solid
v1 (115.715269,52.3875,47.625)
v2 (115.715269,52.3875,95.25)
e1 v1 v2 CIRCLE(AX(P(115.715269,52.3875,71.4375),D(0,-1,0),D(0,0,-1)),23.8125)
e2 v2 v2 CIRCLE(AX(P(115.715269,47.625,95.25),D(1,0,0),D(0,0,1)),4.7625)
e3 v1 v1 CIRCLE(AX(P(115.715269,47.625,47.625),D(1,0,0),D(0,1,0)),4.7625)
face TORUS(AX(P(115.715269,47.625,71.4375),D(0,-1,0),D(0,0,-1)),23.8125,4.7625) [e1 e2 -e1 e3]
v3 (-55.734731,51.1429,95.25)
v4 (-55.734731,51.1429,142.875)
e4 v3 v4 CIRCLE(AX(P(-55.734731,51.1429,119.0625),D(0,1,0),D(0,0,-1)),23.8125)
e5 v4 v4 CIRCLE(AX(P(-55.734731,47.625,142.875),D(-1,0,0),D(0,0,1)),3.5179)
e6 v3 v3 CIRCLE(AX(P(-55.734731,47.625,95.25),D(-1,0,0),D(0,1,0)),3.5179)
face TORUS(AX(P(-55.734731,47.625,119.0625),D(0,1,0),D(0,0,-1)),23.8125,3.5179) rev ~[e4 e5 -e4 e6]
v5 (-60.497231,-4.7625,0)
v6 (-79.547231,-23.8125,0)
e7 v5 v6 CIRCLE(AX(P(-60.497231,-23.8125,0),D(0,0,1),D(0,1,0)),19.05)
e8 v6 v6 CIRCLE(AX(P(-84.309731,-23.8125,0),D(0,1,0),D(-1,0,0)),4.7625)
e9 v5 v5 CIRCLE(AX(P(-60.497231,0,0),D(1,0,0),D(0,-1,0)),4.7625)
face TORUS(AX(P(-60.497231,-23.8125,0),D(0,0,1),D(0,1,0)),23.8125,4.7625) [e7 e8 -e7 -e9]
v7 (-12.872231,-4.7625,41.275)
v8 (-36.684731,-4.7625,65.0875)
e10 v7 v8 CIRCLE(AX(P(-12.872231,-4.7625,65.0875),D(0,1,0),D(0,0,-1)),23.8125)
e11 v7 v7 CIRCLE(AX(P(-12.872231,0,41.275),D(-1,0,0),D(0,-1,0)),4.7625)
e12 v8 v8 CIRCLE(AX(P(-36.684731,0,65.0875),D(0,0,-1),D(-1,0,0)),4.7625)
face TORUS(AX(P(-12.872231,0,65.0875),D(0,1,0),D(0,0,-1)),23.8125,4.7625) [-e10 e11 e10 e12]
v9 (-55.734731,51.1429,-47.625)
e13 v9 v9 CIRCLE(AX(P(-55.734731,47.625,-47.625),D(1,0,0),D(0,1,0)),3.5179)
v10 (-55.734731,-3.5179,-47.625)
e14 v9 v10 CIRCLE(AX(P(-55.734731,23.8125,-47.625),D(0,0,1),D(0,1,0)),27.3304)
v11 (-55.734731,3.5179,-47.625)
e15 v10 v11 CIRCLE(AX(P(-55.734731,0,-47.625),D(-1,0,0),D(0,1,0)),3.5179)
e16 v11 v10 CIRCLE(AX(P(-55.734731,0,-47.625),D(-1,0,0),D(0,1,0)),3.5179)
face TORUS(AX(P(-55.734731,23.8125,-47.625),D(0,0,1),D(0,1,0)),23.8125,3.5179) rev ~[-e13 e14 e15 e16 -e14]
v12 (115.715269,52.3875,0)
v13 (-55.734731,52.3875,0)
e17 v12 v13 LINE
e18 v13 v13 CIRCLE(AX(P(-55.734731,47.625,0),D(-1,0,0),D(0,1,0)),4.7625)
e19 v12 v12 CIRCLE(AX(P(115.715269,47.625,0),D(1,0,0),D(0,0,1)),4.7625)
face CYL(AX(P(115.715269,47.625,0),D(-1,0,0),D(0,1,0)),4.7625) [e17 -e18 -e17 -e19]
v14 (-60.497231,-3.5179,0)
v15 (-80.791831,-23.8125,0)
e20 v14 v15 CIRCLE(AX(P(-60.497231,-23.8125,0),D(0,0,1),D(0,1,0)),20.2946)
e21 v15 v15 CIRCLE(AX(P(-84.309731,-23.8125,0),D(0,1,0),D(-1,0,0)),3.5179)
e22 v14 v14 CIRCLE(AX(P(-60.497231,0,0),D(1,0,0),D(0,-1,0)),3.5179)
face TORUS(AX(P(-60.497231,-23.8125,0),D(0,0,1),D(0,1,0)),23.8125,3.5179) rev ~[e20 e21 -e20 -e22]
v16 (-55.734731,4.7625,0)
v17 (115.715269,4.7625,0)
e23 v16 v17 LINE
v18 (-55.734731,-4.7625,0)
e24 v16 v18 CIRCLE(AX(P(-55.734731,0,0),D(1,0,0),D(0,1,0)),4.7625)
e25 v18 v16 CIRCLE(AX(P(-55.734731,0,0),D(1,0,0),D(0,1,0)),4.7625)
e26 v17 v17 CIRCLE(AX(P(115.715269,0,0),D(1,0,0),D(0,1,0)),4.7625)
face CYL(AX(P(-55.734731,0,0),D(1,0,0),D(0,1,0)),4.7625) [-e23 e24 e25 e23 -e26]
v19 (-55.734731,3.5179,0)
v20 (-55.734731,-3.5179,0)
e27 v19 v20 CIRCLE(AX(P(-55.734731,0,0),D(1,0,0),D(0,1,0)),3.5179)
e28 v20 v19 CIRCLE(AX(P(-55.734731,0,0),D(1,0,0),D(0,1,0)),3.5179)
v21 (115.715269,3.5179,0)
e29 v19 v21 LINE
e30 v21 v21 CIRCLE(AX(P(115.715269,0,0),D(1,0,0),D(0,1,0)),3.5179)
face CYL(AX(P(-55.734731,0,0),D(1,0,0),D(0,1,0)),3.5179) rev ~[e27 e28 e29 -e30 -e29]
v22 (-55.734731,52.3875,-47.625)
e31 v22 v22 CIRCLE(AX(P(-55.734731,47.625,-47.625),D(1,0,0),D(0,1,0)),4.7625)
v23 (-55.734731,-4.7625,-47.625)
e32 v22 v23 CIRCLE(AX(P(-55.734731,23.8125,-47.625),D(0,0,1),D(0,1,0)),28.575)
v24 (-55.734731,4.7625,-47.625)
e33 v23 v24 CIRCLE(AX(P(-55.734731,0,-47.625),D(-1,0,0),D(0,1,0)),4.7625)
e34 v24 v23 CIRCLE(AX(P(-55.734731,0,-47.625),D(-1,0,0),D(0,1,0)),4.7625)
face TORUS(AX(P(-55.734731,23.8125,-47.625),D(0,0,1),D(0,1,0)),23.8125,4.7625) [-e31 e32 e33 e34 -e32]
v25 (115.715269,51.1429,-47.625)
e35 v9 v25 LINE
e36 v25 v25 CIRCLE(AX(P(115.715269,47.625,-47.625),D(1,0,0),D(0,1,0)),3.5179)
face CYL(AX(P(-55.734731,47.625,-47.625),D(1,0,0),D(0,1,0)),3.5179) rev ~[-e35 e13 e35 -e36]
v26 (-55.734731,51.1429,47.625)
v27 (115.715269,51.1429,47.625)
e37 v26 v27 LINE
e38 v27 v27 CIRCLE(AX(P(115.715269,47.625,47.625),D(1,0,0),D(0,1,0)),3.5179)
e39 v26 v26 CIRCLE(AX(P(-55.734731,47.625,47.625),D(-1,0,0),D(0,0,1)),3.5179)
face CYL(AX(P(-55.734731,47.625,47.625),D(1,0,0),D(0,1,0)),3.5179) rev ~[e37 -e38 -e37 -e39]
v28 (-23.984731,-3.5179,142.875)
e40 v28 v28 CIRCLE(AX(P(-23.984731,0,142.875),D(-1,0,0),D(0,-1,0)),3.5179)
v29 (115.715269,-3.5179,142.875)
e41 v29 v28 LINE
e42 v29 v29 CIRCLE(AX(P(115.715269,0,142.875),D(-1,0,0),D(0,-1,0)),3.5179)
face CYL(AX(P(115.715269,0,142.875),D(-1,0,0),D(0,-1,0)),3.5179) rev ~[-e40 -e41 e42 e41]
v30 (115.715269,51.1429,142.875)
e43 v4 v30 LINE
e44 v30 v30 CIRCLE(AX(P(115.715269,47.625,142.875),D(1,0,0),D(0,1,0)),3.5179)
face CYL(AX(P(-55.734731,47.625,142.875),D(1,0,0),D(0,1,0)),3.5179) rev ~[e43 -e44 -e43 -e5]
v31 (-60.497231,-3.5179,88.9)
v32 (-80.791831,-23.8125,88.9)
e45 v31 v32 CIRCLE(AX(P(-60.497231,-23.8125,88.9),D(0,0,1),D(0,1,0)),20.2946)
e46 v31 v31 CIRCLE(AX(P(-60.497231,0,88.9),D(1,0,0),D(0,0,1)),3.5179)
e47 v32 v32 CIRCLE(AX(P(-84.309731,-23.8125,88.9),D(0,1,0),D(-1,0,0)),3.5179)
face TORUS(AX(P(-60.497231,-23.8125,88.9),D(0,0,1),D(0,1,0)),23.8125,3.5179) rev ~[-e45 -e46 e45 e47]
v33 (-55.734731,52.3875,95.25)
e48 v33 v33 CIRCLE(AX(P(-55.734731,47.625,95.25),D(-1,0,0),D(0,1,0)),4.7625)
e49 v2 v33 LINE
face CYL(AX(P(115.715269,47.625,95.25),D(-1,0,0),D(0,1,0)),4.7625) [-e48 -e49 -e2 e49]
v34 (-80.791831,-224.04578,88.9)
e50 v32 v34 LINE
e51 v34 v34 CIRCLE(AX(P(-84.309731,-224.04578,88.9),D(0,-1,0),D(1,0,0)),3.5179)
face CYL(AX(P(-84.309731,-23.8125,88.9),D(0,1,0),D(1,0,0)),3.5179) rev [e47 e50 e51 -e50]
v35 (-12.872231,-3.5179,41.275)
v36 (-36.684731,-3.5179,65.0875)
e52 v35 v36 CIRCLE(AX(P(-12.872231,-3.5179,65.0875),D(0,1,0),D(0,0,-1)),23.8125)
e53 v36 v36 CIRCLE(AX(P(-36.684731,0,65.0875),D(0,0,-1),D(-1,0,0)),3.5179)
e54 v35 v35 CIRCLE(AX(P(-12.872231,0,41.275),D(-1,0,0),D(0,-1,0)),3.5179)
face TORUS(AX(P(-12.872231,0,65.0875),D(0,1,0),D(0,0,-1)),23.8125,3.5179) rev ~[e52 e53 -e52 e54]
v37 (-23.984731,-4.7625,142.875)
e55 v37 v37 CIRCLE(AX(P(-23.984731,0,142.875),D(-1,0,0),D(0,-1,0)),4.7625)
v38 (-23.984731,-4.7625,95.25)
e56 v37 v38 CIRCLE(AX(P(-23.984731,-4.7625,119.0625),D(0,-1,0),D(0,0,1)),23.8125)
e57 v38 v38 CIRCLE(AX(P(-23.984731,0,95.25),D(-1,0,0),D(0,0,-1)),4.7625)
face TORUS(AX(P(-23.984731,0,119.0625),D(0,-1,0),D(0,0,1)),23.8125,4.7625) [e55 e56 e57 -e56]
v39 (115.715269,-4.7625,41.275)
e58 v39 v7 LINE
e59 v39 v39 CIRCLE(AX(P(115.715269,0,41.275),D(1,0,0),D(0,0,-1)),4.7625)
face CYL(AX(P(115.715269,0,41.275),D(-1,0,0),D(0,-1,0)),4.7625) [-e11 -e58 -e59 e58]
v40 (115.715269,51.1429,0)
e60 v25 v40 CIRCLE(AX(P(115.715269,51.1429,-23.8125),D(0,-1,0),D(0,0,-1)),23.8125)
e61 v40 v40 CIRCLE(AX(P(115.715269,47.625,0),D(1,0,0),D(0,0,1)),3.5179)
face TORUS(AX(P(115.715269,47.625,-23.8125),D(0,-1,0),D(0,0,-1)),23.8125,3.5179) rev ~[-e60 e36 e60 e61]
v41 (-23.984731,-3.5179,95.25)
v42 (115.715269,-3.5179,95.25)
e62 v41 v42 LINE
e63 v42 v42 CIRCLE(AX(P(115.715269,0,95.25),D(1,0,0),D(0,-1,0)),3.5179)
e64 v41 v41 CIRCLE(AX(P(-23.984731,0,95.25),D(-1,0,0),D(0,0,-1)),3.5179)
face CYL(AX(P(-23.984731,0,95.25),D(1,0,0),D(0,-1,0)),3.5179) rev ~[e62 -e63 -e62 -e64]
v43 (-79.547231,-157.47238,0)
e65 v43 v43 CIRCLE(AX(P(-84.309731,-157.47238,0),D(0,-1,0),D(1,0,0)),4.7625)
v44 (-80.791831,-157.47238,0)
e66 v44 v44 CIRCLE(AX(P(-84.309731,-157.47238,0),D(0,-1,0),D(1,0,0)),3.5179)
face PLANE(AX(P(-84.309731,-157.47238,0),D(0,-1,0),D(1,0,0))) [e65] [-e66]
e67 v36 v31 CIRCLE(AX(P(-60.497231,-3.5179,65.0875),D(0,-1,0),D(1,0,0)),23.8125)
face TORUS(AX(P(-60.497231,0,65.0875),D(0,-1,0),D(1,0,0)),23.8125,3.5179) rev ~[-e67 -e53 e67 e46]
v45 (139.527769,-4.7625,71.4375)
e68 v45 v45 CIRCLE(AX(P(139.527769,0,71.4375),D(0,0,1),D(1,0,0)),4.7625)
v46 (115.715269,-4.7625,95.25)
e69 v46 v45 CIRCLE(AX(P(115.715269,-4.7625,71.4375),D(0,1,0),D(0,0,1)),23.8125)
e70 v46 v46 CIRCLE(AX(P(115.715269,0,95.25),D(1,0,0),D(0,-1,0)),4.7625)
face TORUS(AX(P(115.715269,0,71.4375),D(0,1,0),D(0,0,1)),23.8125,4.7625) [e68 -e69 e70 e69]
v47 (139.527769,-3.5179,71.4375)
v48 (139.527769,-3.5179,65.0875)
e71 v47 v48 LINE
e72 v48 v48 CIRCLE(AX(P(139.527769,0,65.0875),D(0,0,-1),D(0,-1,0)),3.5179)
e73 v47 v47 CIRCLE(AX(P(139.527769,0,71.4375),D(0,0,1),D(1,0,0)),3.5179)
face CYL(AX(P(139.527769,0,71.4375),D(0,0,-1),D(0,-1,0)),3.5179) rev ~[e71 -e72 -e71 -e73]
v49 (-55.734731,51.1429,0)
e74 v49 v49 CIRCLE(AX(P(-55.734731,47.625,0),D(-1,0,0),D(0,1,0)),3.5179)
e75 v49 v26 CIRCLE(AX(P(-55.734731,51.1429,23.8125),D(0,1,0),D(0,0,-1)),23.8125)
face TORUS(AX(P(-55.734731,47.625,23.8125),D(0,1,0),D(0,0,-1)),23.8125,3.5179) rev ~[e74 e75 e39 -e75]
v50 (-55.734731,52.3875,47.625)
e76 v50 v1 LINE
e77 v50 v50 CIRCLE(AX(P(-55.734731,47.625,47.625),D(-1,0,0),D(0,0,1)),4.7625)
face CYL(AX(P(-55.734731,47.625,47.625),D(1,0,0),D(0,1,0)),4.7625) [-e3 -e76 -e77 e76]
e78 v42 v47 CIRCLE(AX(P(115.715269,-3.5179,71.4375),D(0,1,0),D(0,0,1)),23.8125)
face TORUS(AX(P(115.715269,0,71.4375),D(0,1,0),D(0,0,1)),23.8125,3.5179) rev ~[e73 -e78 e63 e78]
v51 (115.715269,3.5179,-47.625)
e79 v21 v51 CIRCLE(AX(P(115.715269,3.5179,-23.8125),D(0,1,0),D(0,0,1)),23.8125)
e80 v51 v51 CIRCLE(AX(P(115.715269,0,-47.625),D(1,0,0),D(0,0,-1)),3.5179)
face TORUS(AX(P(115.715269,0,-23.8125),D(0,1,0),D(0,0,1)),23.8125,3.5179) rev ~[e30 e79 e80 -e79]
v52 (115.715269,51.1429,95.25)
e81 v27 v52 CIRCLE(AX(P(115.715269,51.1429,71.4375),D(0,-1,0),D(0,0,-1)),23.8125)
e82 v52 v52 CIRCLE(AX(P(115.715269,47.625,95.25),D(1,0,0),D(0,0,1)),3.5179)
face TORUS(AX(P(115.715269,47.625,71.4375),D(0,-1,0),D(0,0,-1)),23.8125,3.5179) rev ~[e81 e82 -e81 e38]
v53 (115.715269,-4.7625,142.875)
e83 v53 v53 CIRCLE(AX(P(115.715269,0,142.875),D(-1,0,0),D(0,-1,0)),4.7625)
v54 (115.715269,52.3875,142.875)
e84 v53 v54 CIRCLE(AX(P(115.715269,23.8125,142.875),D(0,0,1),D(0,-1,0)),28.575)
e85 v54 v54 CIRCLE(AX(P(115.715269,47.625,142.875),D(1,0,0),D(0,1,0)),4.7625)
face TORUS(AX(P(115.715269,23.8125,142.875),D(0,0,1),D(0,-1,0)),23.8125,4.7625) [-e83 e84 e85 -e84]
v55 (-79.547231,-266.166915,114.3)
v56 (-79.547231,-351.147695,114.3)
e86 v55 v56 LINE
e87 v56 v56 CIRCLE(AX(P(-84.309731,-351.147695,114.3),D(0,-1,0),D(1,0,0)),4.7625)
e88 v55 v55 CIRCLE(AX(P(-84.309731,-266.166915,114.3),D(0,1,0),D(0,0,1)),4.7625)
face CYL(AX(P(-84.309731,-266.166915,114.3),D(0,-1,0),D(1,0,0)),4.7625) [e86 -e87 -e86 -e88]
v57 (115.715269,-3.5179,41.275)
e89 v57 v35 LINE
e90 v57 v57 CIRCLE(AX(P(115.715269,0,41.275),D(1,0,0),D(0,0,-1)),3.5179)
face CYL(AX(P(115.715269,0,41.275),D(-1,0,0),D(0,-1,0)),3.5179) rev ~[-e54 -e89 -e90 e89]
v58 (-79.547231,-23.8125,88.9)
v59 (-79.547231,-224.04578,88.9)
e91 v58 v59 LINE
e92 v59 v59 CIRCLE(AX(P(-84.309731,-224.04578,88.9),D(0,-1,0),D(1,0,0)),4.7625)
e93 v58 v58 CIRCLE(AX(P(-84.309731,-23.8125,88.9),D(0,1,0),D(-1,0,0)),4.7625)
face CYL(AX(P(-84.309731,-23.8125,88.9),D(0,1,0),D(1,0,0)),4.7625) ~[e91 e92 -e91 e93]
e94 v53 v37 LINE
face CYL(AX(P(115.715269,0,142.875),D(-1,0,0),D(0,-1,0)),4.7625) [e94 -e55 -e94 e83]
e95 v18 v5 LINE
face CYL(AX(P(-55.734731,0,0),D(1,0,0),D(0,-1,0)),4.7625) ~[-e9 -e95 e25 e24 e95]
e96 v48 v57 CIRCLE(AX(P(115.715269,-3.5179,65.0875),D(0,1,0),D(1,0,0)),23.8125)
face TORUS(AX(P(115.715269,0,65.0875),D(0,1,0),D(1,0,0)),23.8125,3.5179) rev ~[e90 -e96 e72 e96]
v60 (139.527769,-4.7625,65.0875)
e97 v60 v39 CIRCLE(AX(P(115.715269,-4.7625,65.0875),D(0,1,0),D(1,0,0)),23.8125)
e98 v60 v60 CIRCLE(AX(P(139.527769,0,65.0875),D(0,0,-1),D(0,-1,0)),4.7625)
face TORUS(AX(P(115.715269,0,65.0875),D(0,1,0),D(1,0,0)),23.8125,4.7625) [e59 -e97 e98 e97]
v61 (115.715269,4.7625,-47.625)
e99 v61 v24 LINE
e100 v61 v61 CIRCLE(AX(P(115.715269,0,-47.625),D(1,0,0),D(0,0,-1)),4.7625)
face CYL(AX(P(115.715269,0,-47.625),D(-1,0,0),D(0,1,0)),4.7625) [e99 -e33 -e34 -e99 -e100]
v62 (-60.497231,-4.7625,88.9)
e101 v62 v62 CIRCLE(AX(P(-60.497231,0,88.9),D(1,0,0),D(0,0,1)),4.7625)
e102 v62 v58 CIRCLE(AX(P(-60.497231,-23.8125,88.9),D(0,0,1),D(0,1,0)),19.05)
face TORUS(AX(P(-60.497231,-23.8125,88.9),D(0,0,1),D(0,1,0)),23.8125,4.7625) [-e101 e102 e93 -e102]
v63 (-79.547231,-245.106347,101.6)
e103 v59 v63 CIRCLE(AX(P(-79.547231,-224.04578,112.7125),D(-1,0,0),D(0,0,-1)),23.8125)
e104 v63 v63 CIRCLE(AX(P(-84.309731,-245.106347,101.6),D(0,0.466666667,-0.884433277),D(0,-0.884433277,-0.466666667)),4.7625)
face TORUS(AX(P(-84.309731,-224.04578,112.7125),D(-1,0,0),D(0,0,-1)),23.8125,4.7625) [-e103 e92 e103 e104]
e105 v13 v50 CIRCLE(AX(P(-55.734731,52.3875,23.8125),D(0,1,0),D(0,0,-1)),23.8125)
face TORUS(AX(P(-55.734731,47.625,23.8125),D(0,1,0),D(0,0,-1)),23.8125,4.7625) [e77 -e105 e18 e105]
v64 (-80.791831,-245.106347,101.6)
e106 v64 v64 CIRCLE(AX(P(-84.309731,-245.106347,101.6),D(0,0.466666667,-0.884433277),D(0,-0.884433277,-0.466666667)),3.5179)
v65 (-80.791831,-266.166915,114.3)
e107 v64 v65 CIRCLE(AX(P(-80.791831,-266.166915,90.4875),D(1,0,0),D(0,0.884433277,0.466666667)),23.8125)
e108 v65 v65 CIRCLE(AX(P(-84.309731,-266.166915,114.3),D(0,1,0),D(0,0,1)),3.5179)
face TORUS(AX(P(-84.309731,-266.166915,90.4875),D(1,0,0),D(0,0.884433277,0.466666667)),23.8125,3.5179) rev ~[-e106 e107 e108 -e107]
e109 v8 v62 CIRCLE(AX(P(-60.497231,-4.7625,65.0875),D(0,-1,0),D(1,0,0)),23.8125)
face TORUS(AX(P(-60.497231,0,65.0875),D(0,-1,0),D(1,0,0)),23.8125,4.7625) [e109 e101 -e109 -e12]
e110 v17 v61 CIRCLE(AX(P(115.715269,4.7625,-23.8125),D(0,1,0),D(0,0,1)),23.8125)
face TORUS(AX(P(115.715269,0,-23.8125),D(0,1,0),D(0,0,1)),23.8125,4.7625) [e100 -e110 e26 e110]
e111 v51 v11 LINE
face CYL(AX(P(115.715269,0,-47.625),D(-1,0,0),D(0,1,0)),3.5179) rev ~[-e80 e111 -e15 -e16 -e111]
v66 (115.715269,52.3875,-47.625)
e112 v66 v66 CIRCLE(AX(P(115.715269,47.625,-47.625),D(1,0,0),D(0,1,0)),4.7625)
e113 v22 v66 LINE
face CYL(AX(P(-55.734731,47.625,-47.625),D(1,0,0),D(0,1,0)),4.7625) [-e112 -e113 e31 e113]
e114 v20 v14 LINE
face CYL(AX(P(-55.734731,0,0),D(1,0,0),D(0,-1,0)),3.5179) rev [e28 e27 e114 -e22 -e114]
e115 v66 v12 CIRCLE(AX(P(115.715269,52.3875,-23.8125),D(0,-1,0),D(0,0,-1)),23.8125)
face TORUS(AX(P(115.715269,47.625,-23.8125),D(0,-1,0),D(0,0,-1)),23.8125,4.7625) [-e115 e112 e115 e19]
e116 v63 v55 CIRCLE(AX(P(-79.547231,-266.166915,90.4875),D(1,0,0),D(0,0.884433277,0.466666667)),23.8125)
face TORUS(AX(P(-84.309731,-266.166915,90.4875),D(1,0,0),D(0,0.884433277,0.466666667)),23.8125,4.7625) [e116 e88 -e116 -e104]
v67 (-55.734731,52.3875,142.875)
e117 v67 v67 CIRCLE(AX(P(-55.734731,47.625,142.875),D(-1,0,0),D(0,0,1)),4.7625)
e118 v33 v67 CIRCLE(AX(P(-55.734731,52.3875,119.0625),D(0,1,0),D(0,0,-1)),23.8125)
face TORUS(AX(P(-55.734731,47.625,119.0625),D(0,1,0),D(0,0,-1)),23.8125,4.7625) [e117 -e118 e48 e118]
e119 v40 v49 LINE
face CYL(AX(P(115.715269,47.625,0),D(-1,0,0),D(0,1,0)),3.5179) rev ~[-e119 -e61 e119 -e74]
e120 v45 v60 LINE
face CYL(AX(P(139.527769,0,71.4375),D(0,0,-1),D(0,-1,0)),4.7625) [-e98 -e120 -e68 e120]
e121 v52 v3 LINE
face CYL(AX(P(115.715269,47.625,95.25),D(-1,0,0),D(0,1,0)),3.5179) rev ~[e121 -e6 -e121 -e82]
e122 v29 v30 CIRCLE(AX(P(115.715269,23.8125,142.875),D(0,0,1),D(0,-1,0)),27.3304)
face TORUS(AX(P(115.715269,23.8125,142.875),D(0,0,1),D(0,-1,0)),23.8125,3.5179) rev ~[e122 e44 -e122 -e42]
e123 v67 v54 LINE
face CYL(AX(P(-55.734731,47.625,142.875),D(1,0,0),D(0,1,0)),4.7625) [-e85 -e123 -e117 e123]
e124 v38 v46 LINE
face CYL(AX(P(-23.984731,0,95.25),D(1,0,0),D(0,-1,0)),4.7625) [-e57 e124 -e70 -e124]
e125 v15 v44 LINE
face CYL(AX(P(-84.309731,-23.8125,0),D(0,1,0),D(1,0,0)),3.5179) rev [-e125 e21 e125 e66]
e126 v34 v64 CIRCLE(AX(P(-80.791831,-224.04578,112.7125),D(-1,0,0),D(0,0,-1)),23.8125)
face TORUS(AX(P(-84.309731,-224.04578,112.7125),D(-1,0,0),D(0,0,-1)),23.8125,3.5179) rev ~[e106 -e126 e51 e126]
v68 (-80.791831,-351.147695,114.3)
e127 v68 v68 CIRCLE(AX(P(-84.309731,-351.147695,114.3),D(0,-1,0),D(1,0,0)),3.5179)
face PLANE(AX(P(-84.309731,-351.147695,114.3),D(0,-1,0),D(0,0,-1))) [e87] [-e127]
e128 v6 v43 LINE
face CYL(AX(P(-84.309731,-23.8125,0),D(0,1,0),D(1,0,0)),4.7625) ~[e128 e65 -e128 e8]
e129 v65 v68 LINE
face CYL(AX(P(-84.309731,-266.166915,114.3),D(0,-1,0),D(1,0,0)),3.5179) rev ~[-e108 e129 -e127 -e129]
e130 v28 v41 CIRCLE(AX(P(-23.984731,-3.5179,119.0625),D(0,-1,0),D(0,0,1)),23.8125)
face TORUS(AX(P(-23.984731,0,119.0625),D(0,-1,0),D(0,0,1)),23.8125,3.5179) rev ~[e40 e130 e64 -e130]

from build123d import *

# Parameters (mm, degrees)
F2_R      = 4.7625
F2_R_2    = 3.5179
F6_R      = 4.7625
F6_R_2    = 3.5179
F10_R     = 4.7625
F10_R_2   = 3.5179
F13_R     = 4.7625
F13_R_2   = 3.5179
F16_R     = 4.7625
F16_R_2   = 3.5179
F17_DEPTH = 73.025
F18_R     = 4.7625
F18_R_2   = 3.5179
F23_R     = 4.7625
F23_R_2   = 3.5179
F25_R     = 6.1981589045
F26_DEPTH = 68.2625
F29_R     = 4.7625
F29_R_2   = 3.5179
F31_R     = 4.7625
F31_R_2   = 3.5179
F32_DEPTH = 133.65988
F33_R     = 4.7625
F33_R_2   = 3.5179
F34_DEPTH = 200.23328
F37_R     = 4.7625
F37_R_2   = 3.5179


with BuildPart() as f3:
    # F3: sweep along a path in F0
    with BuildLine(Plane.XZ) as f3_path:
        Line((-55.7347305506, 0), (115.7152694494, 0))
        ThreePointArc((115.7152694494, 0), (139.5277694494, -23.8125), (115.7152694494, -47.625))
        Line((115.7152694494, -47.625), (-55.7347305506, -47.625))
    # F2 (on plane+point) → F3 (sweep)
    with BuildSketch(Plane.YZ.offset(-55.7347305506)):
        Circle(F2_R)
        Circle(F2_R_2, mode=Mode.SUBTRACT)
    sweep(path=f3_path.line)

    # F7: sweep along a path in F5
    with BuildLine(Plane.XY.offset(-47.625)) as f7_path:
        ThreePointArc((-55.7347305506, 47.625), (-79.5472305506, 23.8125), (-55.7347305506, 0))
    # F6 (on face) → F7 (sweep)
    with BuildSketch(Plane(origin=(-55.7347305506, 0, 0), x_dir=(0, -1, 0), z_dir=(-1, 0, 0))):
        with Locations((0, -47.625)):
            Circle(F6_R)
        with Locations((0, -47.625)):
            Circle(F6_R_2, mode=Mode.SUBTRACT)
    sweep(path=f7_path.line)

    # F11: sweep along a path in F9
    with BuildLine(Plane.XZ.offset(-47.625)) as f11_path:
        Line((-55.7347305506, -47.625), (115.7152694494, -47.625))
        ThreePointArc((115.7152694494, -47.625), (139.5277694494, -23.8125), (115.7152694494, 0))
        Line((115.7152694494, 0), (-55.7347305506, 0))
        ThreePointArc((-55.7347305506, 0), (-79.5472305506, 23.8125), (-55.7347305506, 47.625))
        Line((-55.7347305506, 47.625), (115.7152694494, 47.625))
        ThreePointArc((115.7152694494, 47.625), (139.5277694494, 71.4375), (115.7152694494, 95.25))
        Line((115.7152694494, 95.25), (-55.7347305506, 95.25))
        ThreePointArc((-55.7347305506, 95.25), (-79.5472305506, 119.0625), (-55.7347305506, 142.875))
        Line((-55.7347305506, 142.875), (115.7152694494, 142.875))
    # F10 (on face) → F11 (sweep)
    with BuildSketch(Plane.YZ.offset(-55.7347305506)):
        with Locations((47.625, -47.625)):
            Circle(F10_R)
        with Locations((47.625, -47.625)):
            Circle(F10_R_2, mode=Mode.SUBTRACT)
    sweep(path=f11_path.line)

    # F15: sweep along a path in F14
    with BuildLine(Plane.XY.offset(142.875)) as f15_path:
        ThreePointArc((115.7152694494, 0), (139.5277694494, 23.8125), (115.7152694494, 47.625))
    # F13 (on face) → F15 (sweep)
    with BuildSketch(Plane.YZ.offset(115.7152694494)):
        with Locations((47.625, 142.875)):
            Circle(F13_R)
        with Locations((47.625, 142.875)):
            Circle(F13_R_2, mode=Mode.SUBTRACT)
    sweep(path=f15_path.line)

    # F16 (on face) → F17 (join)
    with BuildSketch(Plane(origin=(-55.7347305506, 0, 0), x_dir=(0, -1, 0), z_dir=(-1, 0, 0))):
        Circle(F16_R)
        Circle(F16_R_2, mode=Mode.SUBTRACT)
    extrude(amount=F17_DEPTH)

    # F20: sweep along a path in F19
    with BuildLine(Plane.XZ) as f20_path:
        Line((115.7152694494, 142.875), (-23.9847305506, 142.875))
        ThreePointArc((-23.9847305506, 142.875), (-47.7972305506, 119.0625), (-23.9847305506, 95.25))
        Line((-23.9847305506, 95.25), (115.7152694494, 95.25))
        ThreePointArc((115.7152694494, 95.25), (132.5532496764, 88.275480227), (139.5277694494, 71.4375))
        Line((139.5277694494, 71.4375), (139.5277694494, 65.0875))
        ThreePointArc((139.5277694494, 65.0875), (132.5532496764, 48.249519773), (115.7152694494, 41.275))
        Line((115.7152694494, 41.275), (-12.8722305506, 41.275))
        ThreePointArc((-12.8722305506, 41.275), (-29.7102107777, 48.249519773), (-36.6847305506, 65.0875))
        ThreePointArc((-36.6847305506, 65.0875), (-43.6592503236, 81.925480227), (-60.4972305506, 88.9))
    # F18 (on face) → F20 (sweep)
    with BuildSketch(Plane(origin=(115.7152694494, 0, 0), x_dir=(0, -1, 0), z_dir=(-1, 0, 0))):
        with Locations((0, 142.875)):
            Circle(F18_R)
        with Locations((0, 142.875)):
            Circle(F18_R_2, mode=Mode.SUBTRACT)
    sweep(path=f20_path.line)

    # F24: sweep along a path in F22
    with BuildLine(Plane.XY.offset(88.9)) as f24_path:
        ThreePointArc((-60.4972305506, 0), (-77.3352107777, -6.974519773), (-84.3097305506, -23.8125))
    # F23 (on face) → F24 (sweep)
    with BuildSketch(Plane(origin=(-60.4972305506, 0, 0), x_dir=(0, -1, 0), z_dir=(-1, 0, 0))):
        with Locations((0, 88.9)):
            Circle(F23_R)
        with Locations((0, 88.9)):
            Circle(F23_R_2, mode=Mode.SUBTRACT)
    sweep(path=f24_path.line)

    # F25 (on face) → F26 (cut)
    with BuildSketch(Plane(origin=(-128.7597305506, 0, 0), x_dir=(0, -1, 0), z_dir=(-1, 0, 0))):
        Circle(F25_R)
    extrude(amount=-F26_DEPTH, mode=Mode.SUBTRACT)

    # F30: sweep along a path in F28
    with BuildLine(Plane.XY) as f30_path:
        ThreePointArc((-60.4972305506, 0), (-77.3352107777, -6.974519773), (-84.3097305506, -23.8125))
    # F29 (on face) → F30 (sweep)
    with BuildSketch(Plane(origin=(-60.4972305506, 0, 0), x_dir=(0, -1, 0), z_dir=(-1, 0, 0))):
        Circle(F29_R)
        Circle(F29_R_2, mode=Mode.SUBTRACT)
    sweep(path=f30_path.line)

    # F31 (on face) → F32 (join)
    with BuildSketch(Plane.XZ.offset(23.8125)):
        with Locations((-84.3097305506, 0)):
            Circle(F31_R)
        with Locations((-84.3097305506, 0)):
            Circle(F31_R_2, mode=Mode.SUBTRACT)
    extrude(amount=F32_DEPTH)

    # F33 (on face) → F34 (join)
    with BuildSketch(Plane.XZ.offset(23.8125)):
        with Locations((-84.3097305506, 88.9)):
            Circle(F33_R)
        with Locations((-84.3097305506, 88.9)):
            Circle(F33_R_2, mode=Mode.SUBTRACT)
    extrude(amount=F34_DEPTH)

    # F38: sweep along a path in F36
    with BuildLine(Plane.YZ.offset(-84.3097305506)) as f38_path:
        ThreePointArc((-224.04578, 88.9), (-236.3425021242, 92.3206932814), (-245.1063474188, 101.6))
        ThreePointArc((-245.1063474188, 101.6), (-253.8701927133, 110.8793067186), (-266.1669148375, 114.3))
        Line((-266.1669148375, 114.3), (-351.1476948375, 114.3))
    # F37 (on face) → F38 (sweep)
    with BuildSketch(Plane.XZ.offset(224.04578)):
        with Locations((-84.3097305506, 88.9)):
            Circle(F37_R)
        with Locations((-84.3097305506, 88.9)):
            Circle(F37_R_2, mode=Mode.SUBTRACT)
    sweep(path=f38_path.line)


solid = f3.part
